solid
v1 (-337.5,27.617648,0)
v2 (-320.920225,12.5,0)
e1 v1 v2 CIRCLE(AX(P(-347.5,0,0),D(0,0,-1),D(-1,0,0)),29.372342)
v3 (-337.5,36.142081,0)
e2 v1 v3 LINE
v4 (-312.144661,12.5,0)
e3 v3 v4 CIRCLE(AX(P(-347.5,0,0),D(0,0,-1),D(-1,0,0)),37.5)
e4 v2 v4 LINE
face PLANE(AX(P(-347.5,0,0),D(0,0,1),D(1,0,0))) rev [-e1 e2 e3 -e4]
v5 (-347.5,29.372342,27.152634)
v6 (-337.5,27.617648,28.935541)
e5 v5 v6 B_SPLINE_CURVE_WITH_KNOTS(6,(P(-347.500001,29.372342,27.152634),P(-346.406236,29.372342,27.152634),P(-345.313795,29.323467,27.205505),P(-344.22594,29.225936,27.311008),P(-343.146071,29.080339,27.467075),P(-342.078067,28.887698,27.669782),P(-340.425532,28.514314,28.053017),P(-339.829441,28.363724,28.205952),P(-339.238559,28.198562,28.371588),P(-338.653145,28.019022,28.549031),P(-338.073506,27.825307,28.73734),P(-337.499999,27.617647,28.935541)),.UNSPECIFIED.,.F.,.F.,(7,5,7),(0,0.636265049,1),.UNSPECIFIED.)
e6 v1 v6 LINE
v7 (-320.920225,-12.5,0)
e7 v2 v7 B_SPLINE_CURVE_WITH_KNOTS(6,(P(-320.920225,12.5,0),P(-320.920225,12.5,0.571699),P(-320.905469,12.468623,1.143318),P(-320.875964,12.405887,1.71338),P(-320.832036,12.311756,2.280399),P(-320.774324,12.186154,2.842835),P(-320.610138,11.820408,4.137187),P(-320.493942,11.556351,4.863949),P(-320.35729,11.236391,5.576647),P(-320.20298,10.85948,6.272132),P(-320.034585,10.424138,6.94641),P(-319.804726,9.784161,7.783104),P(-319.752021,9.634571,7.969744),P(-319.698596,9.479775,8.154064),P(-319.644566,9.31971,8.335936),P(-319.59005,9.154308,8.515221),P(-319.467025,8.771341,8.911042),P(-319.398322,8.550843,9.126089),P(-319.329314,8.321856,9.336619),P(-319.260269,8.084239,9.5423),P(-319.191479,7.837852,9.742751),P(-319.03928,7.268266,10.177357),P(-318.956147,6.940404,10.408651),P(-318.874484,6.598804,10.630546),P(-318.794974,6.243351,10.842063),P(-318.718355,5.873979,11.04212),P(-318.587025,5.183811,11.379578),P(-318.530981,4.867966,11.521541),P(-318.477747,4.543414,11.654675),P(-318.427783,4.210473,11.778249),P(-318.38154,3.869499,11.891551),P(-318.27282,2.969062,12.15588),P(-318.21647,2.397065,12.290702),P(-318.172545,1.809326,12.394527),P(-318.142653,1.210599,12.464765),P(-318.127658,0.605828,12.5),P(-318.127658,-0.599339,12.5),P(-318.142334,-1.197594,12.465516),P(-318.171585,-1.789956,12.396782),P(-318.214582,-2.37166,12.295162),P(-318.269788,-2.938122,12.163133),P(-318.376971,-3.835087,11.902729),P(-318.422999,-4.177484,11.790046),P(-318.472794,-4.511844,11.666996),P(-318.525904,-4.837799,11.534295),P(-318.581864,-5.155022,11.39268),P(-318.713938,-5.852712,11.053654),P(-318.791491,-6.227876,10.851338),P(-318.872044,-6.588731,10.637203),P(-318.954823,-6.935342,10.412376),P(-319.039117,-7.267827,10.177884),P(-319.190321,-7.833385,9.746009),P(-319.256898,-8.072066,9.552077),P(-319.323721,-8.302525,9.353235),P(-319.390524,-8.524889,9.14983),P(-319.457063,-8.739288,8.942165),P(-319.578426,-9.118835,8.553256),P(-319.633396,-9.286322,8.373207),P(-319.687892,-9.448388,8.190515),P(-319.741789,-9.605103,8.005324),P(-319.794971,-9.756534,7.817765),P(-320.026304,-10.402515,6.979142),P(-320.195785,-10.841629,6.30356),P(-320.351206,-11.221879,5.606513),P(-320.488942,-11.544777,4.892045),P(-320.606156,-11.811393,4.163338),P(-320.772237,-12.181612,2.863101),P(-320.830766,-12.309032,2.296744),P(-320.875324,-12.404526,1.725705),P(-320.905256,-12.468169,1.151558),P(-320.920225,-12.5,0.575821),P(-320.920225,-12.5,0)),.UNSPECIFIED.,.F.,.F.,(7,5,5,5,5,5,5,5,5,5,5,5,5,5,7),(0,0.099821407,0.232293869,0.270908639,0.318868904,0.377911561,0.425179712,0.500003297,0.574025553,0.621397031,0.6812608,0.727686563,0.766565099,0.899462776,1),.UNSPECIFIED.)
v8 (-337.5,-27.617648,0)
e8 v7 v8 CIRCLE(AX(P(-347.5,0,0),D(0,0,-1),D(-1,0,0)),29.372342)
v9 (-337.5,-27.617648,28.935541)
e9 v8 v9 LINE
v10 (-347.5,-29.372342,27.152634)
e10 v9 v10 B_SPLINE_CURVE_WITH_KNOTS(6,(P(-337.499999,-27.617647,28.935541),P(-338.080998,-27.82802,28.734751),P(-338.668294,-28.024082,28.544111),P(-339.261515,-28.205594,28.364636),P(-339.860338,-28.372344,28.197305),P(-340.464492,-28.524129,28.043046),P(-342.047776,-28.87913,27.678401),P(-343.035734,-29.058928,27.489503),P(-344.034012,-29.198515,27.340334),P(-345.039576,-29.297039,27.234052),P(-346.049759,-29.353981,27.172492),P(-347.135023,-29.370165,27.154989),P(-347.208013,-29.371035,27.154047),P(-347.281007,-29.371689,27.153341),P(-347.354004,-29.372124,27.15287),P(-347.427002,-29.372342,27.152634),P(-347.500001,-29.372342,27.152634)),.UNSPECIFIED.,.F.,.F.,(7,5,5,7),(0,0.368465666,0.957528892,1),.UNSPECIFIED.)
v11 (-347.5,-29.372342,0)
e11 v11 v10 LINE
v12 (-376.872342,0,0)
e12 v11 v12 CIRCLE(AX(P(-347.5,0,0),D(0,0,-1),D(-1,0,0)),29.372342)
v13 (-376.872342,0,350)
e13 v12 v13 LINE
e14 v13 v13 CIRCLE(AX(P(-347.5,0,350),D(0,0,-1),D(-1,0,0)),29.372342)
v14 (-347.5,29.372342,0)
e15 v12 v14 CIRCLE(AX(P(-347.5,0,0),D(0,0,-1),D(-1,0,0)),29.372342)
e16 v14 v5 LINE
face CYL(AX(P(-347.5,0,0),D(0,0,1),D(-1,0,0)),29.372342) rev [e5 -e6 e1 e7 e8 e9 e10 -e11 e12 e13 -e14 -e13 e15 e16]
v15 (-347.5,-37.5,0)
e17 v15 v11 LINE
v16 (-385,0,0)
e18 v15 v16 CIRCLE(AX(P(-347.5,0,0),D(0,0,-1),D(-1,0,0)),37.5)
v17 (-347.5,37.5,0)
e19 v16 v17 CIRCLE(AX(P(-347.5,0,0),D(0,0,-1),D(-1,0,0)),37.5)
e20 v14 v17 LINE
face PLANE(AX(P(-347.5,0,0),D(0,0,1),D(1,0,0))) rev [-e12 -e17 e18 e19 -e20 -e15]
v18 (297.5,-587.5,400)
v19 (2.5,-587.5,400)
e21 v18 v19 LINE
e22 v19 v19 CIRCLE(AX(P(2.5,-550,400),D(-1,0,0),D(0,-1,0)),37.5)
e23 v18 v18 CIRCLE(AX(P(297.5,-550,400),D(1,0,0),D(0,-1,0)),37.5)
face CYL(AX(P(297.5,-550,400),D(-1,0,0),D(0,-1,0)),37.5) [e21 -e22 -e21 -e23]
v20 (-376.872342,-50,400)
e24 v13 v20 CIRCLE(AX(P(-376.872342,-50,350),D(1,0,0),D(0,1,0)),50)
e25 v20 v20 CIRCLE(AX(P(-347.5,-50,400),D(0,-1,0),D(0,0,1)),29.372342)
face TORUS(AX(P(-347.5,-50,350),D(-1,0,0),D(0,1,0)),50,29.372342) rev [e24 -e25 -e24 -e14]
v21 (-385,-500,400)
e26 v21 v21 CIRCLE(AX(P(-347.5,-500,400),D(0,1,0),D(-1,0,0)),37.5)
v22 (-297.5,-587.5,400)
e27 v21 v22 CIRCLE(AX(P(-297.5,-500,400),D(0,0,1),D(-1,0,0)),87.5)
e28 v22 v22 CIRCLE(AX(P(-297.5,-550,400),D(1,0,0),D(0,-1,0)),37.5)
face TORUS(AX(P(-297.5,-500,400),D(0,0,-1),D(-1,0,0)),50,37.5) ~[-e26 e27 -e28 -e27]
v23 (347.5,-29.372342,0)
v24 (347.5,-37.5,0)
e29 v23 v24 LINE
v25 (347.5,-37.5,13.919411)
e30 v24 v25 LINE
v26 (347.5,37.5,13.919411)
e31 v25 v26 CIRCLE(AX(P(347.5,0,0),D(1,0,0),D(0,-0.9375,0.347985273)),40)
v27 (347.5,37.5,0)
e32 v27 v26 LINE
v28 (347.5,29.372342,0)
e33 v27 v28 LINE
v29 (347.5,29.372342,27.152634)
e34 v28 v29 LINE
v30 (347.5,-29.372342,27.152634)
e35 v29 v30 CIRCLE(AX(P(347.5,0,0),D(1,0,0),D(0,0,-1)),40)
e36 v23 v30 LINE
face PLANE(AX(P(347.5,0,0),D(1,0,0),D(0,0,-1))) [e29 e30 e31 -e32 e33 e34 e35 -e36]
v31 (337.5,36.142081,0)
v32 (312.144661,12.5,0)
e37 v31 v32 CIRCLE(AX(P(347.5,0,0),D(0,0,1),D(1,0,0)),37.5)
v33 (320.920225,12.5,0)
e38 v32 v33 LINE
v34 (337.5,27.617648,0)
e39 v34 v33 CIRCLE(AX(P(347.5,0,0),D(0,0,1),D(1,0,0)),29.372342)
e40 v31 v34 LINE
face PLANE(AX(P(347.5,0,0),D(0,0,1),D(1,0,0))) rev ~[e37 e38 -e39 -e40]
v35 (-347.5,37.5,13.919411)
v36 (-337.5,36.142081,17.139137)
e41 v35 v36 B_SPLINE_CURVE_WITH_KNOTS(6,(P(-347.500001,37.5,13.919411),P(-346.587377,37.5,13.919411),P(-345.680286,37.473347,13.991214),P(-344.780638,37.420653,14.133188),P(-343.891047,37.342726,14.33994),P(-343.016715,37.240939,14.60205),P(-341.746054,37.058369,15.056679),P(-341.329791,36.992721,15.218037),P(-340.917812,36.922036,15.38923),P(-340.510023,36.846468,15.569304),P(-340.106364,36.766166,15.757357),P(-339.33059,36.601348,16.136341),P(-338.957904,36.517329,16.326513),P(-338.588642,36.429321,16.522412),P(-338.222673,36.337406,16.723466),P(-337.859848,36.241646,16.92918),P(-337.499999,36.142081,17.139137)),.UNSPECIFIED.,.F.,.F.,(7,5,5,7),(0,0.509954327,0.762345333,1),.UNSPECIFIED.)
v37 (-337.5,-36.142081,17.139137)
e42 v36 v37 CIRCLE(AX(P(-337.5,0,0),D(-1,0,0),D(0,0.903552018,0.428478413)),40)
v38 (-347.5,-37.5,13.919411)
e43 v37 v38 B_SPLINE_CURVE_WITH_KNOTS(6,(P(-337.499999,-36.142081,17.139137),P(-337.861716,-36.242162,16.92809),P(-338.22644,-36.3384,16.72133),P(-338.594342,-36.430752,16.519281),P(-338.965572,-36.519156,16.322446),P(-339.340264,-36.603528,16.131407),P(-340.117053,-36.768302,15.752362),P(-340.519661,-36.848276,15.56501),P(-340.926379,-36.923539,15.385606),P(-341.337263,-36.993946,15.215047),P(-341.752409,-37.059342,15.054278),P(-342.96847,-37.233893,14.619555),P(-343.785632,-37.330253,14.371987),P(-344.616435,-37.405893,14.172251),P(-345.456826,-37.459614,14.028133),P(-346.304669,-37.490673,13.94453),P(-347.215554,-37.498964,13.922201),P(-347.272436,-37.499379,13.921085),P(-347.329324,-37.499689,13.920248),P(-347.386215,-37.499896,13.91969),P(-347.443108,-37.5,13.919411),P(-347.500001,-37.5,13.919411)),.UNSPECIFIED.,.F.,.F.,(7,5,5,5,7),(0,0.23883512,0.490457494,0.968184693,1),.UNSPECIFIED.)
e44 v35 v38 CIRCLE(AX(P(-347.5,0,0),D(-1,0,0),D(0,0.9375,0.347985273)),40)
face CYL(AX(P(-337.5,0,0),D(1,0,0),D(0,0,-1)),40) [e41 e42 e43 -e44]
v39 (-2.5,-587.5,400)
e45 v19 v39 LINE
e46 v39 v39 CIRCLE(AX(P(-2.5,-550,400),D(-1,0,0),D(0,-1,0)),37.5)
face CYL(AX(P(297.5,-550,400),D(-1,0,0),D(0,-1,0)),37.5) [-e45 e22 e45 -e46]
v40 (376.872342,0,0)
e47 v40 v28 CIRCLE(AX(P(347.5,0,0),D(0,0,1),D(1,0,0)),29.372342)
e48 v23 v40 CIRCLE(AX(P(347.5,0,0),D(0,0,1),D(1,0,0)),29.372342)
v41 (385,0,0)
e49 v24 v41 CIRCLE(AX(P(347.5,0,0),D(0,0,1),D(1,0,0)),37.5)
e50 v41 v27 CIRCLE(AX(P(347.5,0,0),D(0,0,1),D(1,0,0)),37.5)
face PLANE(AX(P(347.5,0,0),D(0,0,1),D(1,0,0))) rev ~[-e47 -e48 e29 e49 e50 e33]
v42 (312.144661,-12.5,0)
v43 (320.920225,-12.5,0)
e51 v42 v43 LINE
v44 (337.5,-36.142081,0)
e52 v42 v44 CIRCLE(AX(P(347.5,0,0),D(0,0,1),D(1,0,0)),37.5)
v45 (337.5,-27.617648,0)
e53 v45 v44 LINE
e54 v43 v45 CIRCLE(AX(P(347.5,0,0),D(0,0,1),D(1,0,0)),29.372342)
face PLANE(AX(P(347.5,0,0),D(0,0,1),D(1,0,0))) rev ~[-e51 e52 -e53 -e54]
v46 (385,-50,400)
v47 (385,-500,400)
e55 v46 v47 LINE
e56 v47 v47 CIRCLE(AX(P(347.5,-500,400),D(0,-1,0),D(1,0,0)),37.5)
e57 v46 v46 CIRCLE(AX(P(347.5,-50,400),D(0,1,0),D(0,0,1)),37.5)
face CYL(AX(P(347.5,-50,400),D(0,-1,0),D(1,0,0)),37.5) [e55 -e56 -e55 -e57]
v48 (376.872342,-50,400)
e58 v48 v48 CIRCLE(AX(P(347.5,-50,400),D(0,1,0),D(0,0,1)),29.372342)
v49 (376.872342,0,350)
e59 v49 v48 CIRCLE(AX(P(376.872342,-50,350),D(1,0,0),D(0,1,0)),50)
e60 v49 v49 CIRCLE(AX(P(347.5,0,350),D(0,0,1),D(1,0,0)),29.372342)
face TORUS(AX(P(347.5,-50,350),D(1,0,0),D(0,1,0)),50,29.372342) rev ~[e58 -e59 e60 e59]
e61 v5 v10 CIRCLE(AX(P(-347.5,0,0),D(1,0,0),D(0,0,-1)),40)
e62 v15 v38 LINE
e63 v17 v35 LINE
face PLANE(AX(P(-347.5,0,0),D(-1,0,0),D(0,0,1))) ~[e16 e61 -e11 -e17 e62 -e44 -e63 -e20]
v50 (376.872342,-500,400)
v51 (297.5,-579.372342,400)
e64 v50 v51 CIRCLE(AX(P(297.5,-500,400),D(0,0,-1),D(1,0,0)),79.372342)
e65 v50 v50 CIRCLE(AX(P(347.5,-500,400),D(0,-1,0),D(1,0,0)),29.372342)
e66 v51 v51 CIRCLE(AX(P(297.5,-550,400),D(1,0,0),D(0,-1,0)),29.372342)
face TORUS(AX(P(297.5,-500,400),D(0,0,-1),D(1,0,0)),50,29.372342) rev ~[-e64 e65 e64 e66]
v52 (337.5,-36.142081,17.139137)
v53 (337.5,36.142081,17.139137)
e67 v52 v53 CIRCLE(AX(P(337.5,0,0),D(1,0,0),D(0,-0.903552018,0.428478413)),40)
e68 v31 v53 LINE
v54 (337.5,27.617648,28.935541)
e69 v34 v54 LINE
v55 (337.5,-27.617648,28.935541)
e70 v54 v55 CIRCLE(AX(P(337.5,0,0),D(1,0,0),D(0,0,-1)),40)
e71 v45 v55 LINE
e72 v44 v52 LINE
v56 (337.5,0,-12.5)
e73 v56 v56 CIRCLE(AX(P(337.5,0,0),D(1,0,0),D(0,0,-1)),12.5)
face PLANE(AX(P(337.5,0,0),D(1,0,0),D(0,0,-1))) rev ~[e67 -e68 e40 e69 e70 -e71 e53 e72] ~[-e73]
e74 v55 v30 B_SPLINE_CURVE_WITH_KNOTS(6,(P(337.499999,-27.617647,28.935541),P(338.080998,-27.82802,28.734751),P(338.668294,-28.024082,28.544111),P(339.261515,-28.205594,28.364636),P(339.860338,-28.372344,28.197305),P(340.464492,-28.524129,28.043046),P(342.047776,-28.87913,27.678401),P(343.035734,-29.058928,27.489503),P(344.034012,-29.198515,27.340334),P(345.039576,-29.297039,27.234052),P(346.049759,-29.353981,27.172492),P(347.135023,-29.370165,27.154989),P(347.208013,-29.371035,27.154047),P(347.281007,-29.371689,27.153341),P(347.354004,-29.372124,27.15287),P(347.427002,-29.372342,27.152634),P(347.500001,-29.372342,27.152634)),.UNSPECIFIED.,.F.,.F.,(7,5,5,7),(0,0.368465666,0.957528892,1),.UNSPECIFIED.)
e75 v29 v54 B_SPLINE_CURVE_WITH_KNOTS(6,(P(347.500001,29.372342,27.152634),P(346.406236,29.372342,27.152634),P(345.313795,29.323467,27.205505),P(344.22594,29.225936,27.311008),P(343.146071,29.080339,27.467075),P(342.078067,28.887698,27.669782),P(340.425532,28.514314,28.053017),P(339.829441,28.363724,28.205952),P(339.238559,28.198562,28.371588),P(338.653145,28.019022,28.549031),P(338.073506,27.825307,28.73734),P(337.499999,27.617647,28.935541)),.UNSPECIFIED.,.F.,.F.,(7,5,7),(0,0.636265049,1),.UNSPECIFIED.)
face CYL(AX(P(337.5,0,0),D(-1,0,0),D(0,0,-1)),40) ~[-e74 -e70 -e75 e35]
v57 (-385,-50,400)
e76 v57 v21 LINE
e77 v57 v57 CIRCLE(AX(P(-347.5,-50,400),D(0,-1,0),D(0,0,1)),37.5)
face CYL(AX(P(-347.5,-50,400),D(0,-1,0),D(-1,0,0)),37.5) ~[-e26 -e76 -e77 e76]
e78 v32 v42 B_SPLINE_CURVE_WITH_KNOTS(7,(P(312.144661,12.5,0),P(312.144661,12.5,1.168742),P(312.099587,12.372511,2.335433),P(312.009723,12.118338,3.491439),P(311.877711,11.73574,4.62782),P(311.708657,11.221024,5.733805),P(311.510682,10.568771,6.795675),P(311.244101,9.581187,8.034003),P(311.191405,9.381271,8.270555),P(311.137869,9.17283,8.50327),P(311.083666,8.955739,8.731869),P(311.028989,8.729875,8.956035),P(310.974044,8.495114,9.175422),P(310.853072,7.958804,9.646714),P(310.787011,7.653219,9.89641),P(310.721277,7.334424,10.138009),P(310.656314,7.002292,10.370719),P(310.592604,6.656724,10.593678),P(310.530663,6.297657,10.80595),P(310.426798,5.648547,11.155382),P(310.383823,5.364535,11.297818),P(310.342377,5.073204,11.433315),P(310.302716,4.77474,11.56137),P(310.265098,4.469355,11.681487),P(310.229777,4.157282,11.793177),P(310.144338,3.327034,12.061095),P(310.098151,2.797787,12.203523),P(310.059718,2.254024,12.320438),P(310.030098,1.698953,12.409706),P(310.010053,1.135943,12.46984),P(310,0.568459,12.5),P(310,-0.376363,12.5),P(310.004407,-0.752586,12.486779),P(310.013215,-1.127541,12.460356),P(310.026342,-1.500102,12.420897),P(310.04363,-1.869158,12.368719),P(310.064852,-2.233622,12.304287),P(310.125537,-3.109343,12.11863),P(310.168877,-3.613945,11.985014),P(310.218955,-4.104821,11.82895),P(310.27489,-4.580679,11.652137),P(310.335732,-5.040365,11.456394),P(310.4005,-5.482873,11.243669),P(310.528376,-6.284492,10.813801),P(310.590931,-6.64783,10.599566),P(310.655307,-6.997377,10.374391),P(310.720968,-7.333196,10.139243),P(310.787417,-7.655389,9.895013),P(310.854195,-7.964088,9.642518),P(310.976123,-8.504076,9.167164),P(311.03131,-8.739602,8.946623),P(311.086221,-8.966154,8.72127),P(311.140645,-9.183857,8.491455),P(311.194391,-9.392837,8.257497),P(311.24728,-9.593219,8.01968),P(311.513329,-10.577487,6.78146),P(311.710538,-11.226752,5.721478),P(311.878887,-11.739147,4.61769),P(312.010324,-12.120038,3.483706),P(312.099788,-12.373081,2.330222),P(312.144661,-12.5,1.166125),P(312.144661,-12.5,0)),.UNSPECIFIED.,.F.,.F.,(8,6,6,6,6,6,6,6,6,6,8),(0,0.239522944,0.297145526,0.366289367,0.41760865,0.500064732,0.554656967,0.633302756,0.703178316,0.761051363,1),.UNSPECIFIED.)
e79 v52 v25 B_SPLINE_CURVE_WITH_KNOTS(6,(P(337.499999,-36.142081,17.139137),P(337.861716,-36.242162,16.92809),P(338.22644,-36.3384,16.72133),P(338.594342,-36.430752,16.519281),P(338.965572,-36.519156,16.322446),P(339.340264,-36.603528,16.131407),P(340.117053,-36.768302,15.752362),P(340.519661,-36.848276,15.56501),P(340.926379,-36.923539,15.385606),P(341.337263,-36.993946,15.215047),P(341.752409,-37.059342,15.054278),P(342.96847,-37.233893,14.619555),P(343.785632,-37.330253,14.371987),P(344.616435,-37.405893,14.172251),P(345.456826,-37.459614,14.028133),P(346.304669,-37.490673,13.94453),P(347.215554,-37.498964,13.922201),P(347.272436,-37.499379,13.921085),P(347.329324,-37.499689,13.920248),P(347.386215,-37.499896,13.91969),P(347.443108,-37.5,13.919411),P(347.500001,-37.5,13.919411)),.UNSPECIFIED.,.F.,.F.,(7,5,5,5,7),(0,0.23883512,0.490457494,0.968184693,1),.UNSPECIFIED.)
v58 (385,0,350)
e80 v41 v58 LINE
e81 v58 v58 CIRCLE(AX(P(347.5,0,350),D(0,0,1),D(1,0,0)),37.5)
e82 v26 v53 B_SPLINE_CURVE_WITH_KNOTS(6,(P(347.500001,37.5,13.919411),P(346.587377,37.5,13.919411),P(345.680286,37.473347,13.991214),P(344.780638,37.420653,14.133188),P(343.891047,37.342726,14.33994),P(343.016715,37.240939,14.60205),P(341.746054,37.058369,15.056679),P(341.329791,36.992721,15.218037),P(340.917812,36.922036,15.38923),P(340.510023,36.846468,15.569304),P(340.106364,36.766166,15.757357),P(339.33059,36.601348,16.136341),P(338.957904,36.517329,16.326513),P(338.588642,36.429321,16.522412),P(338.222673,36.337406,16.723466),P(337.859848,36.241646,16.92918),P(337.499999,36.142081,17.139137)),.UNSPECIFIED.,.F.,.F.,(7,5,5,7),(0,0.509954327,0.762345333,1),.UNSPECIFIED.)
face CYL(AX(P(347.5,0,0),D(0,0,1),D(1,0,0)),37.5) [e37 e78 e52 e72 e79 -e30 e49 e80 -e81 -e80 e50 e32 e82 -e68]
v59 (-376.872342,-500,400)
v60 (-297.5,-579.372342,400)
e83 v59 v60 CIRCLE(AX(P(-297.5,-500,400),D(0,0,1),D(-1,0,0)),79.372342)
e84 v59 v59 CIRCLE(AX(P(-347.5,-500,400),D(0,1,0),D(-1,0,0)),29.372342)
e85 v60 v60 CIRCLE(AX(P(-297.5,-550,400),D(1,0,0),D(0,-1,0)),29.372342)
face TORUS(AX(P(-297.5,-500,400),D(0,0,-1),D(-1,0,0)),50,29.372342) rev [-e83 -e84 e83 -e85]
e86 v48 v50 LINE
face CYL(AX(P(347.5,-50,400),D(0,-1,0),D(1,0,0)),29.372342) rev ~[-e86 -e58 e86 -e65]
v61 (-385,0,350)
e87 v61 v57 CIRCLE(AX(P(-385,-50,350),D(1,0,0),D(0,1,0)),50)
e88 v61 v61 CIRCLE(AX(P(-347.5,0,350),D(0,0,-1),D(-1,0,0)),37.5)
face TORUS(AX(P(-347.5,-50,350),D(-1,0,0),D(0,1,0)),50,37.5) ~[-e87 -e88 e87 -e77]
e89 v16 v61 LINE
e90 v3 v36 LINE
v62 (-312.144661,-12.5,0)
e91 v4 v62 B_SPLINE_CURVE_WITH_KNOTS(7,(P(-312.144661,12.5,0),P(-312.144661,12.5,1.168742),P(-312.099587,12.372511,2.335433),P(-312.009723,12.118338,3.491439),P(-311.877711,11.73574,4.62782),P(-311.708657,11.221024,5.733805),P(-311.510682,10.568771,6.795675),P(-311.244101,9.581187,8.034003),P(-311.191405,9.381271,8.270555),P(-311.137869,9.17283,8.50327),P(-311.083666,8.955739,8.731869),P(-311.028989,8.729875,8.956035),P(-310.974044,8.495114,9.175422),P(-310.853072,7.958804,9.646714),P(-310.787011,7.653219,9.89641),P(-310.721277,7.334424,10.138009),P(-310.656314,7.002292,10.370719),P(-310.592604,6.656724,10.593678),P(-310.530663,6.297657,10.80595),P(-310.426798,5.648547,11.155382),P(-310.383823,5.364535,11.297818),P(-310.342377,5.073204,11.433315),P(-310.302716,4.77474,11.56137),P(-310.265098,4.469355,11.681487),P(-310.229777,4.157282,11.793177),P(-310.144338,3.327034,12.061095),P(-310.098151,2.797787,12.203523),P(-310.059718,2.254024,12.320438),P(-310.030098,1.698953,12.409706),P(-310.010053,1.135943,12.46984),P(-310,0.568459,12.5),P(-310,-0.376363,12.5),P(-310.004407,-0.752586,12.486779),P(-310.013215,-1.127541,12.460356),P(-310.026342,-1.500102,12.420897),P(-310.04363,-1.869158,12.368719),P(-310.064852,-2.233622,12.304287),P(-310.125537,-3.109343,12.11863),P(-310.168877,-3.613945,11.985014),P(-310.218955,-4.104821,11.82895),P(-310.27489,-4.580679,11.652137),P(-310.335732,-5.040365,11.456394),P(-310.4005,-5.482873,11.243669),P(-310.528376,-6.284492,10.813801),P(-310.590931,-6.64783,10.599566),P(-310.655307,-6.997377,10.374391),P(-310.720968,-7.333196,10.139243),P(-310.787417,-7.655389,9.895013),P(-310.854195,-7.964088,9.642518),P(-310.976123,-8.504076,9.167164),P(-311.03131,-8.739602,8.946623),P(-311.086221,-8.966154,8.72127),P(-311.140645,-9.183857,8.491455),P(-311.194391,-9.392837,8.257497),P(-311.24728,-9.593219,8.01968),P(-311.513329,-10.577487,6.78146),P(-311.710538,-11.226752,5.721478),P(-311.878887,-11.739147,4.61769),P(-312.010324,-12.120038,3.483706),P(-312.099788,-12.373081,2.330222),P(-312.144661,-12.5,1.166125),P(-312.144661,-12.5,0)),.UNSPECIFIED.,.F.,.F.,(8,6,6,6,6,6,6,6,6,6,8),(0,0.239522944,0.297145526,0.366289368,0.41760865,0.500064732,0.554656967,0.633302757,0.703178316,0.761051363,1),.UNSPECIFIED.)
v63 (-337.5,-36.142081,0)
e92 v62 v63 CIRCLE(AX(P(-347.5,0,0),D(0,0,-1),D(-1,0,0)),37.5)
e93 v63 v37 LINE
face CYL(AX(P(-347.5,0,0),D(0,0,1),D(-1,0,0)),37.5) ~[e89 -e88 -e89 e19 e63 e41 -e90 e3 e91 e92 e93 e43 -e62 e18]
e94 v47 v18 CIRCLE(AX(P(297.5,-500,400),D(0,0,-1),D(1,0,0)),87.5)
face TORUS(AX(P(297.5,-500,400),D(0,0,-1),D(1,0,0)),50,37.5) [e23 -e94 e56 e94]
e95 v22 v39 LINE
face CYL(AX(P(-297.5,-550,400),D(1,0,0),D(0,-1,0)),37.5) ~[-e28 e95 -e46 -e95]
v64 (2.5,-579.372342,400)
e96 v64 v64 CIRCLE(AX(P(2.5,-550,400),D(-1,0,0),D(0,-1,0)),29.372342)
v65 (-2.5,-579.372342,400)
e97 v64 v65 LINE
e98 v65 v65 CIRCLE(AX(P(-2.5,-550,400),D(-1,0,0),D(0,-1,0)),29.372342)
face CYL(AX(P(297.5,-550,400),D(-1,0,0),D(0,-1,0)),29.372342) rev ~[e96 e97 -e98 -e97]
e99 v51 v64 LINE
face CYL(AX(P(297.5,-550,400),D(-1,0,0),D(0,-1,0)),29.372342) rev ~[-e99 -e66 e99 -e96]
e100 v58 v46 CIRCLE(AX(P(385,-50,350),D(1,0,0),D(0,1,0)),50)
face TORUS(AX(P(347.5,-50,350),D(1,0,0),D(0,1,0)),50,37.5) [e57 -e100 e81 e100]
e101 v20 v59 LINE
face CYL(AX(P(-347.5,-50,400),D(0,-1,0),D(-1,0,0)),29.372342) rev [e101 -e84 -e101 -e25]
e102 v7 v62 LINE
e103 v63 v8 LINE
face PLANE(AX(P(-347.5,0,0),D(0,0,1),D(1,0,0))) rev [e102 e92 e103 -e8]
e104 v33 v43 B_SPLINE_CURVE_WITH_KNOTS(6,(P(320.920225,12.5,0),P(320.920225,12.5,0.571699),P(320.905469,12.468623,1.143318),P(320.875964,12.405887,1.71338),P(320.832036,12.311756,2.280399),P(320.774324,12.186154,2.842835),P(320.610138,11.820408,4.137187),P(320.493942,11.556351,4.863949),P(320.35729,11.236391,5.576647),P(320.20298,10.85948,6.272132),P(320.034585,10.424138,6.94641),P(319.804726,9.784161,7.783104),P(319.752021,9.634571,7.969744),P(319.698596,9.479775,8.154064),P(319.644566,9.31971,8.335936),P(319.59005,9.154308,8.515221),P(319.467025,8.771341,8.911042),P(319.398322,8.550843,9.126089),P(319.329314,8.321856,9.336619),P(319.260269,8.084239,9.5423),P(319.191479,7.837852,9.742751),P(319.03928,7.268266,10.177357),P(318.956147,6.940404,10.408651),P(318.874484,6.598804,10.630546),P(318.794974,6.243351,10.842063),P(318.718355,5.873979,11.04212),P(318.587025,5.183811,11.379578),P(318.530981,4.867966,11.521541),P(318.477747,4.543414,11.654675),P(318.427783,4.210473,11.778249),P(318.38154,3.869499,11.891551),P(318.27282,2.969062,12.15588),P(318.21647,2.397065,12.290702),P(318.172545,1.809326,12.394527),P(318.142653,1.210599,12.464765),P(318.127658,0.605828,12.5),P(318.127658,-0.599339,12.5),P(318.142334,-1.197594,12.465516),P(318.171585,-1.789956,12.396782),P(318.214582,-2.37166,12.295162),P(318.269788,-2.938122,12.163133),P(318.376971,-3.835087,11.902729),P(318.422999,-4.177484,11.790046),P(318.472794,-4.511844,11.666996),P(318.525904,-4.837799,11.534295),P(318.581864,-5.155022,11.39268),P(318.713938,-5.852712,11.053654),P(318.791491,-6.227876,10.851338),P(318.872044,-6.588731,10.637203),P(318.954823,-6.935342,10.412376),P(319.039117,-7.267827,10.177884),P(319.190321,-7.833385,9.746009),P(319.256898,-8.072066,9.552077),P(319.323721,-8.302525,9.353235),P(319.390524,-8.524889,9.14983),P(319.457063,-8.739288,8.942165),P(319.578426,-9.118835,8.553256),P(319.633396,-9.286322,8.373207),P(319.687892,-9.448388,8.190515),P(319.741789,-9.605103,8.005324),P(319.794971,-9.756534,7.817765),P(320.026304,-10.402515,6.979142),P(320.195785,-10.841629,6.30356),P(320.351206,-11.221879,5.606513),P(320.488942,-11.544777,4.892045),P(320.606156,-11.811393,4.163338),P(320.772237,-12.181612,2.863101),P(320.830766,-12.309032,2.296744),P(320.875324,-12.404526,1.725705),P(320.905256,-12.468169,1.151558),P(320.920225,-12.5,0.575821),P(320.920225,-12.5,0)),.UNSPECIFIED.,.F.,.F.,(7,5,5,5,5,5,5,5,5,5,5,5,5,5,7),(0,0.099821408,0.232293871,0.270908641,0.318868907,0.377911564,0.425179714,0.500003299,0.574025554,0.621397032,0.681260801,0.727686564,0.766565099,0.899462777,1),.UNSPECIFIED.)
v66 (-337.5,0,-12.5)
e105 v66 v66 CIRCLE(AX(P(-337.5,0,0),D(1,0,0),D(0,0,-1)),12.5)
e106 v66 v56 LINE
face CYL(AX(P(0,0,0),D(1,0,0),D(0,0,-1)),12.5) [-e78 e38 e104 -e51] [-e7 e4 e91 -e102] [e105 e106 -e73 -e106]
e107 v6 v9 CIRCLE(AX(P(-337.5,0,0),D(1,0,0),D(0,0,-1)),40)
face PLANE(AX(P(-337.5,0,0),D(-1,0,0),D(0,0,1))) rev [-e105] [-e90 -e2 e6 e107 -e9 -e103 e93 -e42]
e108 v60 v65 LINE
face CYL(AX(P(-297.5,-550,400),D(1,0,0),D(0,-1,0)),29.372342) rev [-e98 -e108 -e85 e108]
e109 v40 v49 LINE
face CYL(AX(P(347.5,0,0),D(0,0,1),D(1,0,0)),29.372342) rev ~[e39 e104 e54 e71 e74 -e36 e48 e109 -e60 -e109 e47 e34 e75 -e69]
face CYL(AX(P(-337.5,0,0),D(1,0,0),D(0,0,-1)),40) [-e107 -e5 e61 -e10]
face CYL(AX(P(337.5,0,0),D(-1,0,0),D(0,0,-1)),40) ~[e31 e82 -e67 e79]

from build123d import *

# Parameters (mm, degrees)
SKETCH1_R           = 12.5
BOSS_EXTRUDE1_DEPTH = 337.5
SKETCH2_R           = 40
BOSS_EXTRUDE2_DEPTH = 10
SKETCH3_R           = 37.5
SKETCH3_R_2         = 29.372341665


with BuildPart() as part:
    # Sketch1 → Boss-Extrude1 (new, symmetric)
    with BuildSketch(Plane(origin=(0, 0, 0), x_dir=(0, 0, -1), z_dir=(1, 0, 0))):
        Circle(SKETCH1_R)
    extrude(amount=BOSS_EXTRUDE1_DEPTH, both=True)

    # Sketch2 → Boss-Extrude2 (add)
    with BuildSketch(Plane(origin=(337.5, 0, 0), x_dir=(0, 0, -1), z_dir=(1, 0, 0))):
        Circle(SKETCH2_R)
    boss_extrude2 = extrude(amount=BOSS_EXTRUDE2_DEPTH)

    # Sweep1: sweep along a curve in space
    with BuildLine() as sweep1_path:
        Line((347.5, 0, 0), (347.5, 0, 350))
        ThreePointArc((347.5, 0, 350), (347.5, -14.644660941, 385.355339059), (347.5, -50, 400))
        Line((347.5, -50, 400), (347.5, -500, 400))
        ThreePointArc((347.5, -500, 400), (332.855339059, -535.355339059, 400), (297.5, -550, 400))
        Line((297.5, -550, 400), (-2.5, -550, 400))
    # Sketch3 → Sweep1 (sweep)
    with BuildSketch(Plane.XY):
        with Locations((347.5, 0)):
            Circle(SKETCH3_R)
        with Locations((347.5, 0)):
            Circle(SKETCH3_R_2, mode=Mode.SUBTRACT)
    sweep1 = sweep(path=sweep1_path.line)

    # Mirror1: Boss-Extrude2, Sweep1 across plane
    add(boss_extrude2.mirror(Plane(origin=(0, 0, 0), x_dir=(0, 0, 1), z_dir=(1, 0, 0))))
    add(sweep1.mirror(Plane(origin=(0, 0, 0), x_dir=(0, 0, 1), z_dir=(1, 0, 0))))


solid = part.part
